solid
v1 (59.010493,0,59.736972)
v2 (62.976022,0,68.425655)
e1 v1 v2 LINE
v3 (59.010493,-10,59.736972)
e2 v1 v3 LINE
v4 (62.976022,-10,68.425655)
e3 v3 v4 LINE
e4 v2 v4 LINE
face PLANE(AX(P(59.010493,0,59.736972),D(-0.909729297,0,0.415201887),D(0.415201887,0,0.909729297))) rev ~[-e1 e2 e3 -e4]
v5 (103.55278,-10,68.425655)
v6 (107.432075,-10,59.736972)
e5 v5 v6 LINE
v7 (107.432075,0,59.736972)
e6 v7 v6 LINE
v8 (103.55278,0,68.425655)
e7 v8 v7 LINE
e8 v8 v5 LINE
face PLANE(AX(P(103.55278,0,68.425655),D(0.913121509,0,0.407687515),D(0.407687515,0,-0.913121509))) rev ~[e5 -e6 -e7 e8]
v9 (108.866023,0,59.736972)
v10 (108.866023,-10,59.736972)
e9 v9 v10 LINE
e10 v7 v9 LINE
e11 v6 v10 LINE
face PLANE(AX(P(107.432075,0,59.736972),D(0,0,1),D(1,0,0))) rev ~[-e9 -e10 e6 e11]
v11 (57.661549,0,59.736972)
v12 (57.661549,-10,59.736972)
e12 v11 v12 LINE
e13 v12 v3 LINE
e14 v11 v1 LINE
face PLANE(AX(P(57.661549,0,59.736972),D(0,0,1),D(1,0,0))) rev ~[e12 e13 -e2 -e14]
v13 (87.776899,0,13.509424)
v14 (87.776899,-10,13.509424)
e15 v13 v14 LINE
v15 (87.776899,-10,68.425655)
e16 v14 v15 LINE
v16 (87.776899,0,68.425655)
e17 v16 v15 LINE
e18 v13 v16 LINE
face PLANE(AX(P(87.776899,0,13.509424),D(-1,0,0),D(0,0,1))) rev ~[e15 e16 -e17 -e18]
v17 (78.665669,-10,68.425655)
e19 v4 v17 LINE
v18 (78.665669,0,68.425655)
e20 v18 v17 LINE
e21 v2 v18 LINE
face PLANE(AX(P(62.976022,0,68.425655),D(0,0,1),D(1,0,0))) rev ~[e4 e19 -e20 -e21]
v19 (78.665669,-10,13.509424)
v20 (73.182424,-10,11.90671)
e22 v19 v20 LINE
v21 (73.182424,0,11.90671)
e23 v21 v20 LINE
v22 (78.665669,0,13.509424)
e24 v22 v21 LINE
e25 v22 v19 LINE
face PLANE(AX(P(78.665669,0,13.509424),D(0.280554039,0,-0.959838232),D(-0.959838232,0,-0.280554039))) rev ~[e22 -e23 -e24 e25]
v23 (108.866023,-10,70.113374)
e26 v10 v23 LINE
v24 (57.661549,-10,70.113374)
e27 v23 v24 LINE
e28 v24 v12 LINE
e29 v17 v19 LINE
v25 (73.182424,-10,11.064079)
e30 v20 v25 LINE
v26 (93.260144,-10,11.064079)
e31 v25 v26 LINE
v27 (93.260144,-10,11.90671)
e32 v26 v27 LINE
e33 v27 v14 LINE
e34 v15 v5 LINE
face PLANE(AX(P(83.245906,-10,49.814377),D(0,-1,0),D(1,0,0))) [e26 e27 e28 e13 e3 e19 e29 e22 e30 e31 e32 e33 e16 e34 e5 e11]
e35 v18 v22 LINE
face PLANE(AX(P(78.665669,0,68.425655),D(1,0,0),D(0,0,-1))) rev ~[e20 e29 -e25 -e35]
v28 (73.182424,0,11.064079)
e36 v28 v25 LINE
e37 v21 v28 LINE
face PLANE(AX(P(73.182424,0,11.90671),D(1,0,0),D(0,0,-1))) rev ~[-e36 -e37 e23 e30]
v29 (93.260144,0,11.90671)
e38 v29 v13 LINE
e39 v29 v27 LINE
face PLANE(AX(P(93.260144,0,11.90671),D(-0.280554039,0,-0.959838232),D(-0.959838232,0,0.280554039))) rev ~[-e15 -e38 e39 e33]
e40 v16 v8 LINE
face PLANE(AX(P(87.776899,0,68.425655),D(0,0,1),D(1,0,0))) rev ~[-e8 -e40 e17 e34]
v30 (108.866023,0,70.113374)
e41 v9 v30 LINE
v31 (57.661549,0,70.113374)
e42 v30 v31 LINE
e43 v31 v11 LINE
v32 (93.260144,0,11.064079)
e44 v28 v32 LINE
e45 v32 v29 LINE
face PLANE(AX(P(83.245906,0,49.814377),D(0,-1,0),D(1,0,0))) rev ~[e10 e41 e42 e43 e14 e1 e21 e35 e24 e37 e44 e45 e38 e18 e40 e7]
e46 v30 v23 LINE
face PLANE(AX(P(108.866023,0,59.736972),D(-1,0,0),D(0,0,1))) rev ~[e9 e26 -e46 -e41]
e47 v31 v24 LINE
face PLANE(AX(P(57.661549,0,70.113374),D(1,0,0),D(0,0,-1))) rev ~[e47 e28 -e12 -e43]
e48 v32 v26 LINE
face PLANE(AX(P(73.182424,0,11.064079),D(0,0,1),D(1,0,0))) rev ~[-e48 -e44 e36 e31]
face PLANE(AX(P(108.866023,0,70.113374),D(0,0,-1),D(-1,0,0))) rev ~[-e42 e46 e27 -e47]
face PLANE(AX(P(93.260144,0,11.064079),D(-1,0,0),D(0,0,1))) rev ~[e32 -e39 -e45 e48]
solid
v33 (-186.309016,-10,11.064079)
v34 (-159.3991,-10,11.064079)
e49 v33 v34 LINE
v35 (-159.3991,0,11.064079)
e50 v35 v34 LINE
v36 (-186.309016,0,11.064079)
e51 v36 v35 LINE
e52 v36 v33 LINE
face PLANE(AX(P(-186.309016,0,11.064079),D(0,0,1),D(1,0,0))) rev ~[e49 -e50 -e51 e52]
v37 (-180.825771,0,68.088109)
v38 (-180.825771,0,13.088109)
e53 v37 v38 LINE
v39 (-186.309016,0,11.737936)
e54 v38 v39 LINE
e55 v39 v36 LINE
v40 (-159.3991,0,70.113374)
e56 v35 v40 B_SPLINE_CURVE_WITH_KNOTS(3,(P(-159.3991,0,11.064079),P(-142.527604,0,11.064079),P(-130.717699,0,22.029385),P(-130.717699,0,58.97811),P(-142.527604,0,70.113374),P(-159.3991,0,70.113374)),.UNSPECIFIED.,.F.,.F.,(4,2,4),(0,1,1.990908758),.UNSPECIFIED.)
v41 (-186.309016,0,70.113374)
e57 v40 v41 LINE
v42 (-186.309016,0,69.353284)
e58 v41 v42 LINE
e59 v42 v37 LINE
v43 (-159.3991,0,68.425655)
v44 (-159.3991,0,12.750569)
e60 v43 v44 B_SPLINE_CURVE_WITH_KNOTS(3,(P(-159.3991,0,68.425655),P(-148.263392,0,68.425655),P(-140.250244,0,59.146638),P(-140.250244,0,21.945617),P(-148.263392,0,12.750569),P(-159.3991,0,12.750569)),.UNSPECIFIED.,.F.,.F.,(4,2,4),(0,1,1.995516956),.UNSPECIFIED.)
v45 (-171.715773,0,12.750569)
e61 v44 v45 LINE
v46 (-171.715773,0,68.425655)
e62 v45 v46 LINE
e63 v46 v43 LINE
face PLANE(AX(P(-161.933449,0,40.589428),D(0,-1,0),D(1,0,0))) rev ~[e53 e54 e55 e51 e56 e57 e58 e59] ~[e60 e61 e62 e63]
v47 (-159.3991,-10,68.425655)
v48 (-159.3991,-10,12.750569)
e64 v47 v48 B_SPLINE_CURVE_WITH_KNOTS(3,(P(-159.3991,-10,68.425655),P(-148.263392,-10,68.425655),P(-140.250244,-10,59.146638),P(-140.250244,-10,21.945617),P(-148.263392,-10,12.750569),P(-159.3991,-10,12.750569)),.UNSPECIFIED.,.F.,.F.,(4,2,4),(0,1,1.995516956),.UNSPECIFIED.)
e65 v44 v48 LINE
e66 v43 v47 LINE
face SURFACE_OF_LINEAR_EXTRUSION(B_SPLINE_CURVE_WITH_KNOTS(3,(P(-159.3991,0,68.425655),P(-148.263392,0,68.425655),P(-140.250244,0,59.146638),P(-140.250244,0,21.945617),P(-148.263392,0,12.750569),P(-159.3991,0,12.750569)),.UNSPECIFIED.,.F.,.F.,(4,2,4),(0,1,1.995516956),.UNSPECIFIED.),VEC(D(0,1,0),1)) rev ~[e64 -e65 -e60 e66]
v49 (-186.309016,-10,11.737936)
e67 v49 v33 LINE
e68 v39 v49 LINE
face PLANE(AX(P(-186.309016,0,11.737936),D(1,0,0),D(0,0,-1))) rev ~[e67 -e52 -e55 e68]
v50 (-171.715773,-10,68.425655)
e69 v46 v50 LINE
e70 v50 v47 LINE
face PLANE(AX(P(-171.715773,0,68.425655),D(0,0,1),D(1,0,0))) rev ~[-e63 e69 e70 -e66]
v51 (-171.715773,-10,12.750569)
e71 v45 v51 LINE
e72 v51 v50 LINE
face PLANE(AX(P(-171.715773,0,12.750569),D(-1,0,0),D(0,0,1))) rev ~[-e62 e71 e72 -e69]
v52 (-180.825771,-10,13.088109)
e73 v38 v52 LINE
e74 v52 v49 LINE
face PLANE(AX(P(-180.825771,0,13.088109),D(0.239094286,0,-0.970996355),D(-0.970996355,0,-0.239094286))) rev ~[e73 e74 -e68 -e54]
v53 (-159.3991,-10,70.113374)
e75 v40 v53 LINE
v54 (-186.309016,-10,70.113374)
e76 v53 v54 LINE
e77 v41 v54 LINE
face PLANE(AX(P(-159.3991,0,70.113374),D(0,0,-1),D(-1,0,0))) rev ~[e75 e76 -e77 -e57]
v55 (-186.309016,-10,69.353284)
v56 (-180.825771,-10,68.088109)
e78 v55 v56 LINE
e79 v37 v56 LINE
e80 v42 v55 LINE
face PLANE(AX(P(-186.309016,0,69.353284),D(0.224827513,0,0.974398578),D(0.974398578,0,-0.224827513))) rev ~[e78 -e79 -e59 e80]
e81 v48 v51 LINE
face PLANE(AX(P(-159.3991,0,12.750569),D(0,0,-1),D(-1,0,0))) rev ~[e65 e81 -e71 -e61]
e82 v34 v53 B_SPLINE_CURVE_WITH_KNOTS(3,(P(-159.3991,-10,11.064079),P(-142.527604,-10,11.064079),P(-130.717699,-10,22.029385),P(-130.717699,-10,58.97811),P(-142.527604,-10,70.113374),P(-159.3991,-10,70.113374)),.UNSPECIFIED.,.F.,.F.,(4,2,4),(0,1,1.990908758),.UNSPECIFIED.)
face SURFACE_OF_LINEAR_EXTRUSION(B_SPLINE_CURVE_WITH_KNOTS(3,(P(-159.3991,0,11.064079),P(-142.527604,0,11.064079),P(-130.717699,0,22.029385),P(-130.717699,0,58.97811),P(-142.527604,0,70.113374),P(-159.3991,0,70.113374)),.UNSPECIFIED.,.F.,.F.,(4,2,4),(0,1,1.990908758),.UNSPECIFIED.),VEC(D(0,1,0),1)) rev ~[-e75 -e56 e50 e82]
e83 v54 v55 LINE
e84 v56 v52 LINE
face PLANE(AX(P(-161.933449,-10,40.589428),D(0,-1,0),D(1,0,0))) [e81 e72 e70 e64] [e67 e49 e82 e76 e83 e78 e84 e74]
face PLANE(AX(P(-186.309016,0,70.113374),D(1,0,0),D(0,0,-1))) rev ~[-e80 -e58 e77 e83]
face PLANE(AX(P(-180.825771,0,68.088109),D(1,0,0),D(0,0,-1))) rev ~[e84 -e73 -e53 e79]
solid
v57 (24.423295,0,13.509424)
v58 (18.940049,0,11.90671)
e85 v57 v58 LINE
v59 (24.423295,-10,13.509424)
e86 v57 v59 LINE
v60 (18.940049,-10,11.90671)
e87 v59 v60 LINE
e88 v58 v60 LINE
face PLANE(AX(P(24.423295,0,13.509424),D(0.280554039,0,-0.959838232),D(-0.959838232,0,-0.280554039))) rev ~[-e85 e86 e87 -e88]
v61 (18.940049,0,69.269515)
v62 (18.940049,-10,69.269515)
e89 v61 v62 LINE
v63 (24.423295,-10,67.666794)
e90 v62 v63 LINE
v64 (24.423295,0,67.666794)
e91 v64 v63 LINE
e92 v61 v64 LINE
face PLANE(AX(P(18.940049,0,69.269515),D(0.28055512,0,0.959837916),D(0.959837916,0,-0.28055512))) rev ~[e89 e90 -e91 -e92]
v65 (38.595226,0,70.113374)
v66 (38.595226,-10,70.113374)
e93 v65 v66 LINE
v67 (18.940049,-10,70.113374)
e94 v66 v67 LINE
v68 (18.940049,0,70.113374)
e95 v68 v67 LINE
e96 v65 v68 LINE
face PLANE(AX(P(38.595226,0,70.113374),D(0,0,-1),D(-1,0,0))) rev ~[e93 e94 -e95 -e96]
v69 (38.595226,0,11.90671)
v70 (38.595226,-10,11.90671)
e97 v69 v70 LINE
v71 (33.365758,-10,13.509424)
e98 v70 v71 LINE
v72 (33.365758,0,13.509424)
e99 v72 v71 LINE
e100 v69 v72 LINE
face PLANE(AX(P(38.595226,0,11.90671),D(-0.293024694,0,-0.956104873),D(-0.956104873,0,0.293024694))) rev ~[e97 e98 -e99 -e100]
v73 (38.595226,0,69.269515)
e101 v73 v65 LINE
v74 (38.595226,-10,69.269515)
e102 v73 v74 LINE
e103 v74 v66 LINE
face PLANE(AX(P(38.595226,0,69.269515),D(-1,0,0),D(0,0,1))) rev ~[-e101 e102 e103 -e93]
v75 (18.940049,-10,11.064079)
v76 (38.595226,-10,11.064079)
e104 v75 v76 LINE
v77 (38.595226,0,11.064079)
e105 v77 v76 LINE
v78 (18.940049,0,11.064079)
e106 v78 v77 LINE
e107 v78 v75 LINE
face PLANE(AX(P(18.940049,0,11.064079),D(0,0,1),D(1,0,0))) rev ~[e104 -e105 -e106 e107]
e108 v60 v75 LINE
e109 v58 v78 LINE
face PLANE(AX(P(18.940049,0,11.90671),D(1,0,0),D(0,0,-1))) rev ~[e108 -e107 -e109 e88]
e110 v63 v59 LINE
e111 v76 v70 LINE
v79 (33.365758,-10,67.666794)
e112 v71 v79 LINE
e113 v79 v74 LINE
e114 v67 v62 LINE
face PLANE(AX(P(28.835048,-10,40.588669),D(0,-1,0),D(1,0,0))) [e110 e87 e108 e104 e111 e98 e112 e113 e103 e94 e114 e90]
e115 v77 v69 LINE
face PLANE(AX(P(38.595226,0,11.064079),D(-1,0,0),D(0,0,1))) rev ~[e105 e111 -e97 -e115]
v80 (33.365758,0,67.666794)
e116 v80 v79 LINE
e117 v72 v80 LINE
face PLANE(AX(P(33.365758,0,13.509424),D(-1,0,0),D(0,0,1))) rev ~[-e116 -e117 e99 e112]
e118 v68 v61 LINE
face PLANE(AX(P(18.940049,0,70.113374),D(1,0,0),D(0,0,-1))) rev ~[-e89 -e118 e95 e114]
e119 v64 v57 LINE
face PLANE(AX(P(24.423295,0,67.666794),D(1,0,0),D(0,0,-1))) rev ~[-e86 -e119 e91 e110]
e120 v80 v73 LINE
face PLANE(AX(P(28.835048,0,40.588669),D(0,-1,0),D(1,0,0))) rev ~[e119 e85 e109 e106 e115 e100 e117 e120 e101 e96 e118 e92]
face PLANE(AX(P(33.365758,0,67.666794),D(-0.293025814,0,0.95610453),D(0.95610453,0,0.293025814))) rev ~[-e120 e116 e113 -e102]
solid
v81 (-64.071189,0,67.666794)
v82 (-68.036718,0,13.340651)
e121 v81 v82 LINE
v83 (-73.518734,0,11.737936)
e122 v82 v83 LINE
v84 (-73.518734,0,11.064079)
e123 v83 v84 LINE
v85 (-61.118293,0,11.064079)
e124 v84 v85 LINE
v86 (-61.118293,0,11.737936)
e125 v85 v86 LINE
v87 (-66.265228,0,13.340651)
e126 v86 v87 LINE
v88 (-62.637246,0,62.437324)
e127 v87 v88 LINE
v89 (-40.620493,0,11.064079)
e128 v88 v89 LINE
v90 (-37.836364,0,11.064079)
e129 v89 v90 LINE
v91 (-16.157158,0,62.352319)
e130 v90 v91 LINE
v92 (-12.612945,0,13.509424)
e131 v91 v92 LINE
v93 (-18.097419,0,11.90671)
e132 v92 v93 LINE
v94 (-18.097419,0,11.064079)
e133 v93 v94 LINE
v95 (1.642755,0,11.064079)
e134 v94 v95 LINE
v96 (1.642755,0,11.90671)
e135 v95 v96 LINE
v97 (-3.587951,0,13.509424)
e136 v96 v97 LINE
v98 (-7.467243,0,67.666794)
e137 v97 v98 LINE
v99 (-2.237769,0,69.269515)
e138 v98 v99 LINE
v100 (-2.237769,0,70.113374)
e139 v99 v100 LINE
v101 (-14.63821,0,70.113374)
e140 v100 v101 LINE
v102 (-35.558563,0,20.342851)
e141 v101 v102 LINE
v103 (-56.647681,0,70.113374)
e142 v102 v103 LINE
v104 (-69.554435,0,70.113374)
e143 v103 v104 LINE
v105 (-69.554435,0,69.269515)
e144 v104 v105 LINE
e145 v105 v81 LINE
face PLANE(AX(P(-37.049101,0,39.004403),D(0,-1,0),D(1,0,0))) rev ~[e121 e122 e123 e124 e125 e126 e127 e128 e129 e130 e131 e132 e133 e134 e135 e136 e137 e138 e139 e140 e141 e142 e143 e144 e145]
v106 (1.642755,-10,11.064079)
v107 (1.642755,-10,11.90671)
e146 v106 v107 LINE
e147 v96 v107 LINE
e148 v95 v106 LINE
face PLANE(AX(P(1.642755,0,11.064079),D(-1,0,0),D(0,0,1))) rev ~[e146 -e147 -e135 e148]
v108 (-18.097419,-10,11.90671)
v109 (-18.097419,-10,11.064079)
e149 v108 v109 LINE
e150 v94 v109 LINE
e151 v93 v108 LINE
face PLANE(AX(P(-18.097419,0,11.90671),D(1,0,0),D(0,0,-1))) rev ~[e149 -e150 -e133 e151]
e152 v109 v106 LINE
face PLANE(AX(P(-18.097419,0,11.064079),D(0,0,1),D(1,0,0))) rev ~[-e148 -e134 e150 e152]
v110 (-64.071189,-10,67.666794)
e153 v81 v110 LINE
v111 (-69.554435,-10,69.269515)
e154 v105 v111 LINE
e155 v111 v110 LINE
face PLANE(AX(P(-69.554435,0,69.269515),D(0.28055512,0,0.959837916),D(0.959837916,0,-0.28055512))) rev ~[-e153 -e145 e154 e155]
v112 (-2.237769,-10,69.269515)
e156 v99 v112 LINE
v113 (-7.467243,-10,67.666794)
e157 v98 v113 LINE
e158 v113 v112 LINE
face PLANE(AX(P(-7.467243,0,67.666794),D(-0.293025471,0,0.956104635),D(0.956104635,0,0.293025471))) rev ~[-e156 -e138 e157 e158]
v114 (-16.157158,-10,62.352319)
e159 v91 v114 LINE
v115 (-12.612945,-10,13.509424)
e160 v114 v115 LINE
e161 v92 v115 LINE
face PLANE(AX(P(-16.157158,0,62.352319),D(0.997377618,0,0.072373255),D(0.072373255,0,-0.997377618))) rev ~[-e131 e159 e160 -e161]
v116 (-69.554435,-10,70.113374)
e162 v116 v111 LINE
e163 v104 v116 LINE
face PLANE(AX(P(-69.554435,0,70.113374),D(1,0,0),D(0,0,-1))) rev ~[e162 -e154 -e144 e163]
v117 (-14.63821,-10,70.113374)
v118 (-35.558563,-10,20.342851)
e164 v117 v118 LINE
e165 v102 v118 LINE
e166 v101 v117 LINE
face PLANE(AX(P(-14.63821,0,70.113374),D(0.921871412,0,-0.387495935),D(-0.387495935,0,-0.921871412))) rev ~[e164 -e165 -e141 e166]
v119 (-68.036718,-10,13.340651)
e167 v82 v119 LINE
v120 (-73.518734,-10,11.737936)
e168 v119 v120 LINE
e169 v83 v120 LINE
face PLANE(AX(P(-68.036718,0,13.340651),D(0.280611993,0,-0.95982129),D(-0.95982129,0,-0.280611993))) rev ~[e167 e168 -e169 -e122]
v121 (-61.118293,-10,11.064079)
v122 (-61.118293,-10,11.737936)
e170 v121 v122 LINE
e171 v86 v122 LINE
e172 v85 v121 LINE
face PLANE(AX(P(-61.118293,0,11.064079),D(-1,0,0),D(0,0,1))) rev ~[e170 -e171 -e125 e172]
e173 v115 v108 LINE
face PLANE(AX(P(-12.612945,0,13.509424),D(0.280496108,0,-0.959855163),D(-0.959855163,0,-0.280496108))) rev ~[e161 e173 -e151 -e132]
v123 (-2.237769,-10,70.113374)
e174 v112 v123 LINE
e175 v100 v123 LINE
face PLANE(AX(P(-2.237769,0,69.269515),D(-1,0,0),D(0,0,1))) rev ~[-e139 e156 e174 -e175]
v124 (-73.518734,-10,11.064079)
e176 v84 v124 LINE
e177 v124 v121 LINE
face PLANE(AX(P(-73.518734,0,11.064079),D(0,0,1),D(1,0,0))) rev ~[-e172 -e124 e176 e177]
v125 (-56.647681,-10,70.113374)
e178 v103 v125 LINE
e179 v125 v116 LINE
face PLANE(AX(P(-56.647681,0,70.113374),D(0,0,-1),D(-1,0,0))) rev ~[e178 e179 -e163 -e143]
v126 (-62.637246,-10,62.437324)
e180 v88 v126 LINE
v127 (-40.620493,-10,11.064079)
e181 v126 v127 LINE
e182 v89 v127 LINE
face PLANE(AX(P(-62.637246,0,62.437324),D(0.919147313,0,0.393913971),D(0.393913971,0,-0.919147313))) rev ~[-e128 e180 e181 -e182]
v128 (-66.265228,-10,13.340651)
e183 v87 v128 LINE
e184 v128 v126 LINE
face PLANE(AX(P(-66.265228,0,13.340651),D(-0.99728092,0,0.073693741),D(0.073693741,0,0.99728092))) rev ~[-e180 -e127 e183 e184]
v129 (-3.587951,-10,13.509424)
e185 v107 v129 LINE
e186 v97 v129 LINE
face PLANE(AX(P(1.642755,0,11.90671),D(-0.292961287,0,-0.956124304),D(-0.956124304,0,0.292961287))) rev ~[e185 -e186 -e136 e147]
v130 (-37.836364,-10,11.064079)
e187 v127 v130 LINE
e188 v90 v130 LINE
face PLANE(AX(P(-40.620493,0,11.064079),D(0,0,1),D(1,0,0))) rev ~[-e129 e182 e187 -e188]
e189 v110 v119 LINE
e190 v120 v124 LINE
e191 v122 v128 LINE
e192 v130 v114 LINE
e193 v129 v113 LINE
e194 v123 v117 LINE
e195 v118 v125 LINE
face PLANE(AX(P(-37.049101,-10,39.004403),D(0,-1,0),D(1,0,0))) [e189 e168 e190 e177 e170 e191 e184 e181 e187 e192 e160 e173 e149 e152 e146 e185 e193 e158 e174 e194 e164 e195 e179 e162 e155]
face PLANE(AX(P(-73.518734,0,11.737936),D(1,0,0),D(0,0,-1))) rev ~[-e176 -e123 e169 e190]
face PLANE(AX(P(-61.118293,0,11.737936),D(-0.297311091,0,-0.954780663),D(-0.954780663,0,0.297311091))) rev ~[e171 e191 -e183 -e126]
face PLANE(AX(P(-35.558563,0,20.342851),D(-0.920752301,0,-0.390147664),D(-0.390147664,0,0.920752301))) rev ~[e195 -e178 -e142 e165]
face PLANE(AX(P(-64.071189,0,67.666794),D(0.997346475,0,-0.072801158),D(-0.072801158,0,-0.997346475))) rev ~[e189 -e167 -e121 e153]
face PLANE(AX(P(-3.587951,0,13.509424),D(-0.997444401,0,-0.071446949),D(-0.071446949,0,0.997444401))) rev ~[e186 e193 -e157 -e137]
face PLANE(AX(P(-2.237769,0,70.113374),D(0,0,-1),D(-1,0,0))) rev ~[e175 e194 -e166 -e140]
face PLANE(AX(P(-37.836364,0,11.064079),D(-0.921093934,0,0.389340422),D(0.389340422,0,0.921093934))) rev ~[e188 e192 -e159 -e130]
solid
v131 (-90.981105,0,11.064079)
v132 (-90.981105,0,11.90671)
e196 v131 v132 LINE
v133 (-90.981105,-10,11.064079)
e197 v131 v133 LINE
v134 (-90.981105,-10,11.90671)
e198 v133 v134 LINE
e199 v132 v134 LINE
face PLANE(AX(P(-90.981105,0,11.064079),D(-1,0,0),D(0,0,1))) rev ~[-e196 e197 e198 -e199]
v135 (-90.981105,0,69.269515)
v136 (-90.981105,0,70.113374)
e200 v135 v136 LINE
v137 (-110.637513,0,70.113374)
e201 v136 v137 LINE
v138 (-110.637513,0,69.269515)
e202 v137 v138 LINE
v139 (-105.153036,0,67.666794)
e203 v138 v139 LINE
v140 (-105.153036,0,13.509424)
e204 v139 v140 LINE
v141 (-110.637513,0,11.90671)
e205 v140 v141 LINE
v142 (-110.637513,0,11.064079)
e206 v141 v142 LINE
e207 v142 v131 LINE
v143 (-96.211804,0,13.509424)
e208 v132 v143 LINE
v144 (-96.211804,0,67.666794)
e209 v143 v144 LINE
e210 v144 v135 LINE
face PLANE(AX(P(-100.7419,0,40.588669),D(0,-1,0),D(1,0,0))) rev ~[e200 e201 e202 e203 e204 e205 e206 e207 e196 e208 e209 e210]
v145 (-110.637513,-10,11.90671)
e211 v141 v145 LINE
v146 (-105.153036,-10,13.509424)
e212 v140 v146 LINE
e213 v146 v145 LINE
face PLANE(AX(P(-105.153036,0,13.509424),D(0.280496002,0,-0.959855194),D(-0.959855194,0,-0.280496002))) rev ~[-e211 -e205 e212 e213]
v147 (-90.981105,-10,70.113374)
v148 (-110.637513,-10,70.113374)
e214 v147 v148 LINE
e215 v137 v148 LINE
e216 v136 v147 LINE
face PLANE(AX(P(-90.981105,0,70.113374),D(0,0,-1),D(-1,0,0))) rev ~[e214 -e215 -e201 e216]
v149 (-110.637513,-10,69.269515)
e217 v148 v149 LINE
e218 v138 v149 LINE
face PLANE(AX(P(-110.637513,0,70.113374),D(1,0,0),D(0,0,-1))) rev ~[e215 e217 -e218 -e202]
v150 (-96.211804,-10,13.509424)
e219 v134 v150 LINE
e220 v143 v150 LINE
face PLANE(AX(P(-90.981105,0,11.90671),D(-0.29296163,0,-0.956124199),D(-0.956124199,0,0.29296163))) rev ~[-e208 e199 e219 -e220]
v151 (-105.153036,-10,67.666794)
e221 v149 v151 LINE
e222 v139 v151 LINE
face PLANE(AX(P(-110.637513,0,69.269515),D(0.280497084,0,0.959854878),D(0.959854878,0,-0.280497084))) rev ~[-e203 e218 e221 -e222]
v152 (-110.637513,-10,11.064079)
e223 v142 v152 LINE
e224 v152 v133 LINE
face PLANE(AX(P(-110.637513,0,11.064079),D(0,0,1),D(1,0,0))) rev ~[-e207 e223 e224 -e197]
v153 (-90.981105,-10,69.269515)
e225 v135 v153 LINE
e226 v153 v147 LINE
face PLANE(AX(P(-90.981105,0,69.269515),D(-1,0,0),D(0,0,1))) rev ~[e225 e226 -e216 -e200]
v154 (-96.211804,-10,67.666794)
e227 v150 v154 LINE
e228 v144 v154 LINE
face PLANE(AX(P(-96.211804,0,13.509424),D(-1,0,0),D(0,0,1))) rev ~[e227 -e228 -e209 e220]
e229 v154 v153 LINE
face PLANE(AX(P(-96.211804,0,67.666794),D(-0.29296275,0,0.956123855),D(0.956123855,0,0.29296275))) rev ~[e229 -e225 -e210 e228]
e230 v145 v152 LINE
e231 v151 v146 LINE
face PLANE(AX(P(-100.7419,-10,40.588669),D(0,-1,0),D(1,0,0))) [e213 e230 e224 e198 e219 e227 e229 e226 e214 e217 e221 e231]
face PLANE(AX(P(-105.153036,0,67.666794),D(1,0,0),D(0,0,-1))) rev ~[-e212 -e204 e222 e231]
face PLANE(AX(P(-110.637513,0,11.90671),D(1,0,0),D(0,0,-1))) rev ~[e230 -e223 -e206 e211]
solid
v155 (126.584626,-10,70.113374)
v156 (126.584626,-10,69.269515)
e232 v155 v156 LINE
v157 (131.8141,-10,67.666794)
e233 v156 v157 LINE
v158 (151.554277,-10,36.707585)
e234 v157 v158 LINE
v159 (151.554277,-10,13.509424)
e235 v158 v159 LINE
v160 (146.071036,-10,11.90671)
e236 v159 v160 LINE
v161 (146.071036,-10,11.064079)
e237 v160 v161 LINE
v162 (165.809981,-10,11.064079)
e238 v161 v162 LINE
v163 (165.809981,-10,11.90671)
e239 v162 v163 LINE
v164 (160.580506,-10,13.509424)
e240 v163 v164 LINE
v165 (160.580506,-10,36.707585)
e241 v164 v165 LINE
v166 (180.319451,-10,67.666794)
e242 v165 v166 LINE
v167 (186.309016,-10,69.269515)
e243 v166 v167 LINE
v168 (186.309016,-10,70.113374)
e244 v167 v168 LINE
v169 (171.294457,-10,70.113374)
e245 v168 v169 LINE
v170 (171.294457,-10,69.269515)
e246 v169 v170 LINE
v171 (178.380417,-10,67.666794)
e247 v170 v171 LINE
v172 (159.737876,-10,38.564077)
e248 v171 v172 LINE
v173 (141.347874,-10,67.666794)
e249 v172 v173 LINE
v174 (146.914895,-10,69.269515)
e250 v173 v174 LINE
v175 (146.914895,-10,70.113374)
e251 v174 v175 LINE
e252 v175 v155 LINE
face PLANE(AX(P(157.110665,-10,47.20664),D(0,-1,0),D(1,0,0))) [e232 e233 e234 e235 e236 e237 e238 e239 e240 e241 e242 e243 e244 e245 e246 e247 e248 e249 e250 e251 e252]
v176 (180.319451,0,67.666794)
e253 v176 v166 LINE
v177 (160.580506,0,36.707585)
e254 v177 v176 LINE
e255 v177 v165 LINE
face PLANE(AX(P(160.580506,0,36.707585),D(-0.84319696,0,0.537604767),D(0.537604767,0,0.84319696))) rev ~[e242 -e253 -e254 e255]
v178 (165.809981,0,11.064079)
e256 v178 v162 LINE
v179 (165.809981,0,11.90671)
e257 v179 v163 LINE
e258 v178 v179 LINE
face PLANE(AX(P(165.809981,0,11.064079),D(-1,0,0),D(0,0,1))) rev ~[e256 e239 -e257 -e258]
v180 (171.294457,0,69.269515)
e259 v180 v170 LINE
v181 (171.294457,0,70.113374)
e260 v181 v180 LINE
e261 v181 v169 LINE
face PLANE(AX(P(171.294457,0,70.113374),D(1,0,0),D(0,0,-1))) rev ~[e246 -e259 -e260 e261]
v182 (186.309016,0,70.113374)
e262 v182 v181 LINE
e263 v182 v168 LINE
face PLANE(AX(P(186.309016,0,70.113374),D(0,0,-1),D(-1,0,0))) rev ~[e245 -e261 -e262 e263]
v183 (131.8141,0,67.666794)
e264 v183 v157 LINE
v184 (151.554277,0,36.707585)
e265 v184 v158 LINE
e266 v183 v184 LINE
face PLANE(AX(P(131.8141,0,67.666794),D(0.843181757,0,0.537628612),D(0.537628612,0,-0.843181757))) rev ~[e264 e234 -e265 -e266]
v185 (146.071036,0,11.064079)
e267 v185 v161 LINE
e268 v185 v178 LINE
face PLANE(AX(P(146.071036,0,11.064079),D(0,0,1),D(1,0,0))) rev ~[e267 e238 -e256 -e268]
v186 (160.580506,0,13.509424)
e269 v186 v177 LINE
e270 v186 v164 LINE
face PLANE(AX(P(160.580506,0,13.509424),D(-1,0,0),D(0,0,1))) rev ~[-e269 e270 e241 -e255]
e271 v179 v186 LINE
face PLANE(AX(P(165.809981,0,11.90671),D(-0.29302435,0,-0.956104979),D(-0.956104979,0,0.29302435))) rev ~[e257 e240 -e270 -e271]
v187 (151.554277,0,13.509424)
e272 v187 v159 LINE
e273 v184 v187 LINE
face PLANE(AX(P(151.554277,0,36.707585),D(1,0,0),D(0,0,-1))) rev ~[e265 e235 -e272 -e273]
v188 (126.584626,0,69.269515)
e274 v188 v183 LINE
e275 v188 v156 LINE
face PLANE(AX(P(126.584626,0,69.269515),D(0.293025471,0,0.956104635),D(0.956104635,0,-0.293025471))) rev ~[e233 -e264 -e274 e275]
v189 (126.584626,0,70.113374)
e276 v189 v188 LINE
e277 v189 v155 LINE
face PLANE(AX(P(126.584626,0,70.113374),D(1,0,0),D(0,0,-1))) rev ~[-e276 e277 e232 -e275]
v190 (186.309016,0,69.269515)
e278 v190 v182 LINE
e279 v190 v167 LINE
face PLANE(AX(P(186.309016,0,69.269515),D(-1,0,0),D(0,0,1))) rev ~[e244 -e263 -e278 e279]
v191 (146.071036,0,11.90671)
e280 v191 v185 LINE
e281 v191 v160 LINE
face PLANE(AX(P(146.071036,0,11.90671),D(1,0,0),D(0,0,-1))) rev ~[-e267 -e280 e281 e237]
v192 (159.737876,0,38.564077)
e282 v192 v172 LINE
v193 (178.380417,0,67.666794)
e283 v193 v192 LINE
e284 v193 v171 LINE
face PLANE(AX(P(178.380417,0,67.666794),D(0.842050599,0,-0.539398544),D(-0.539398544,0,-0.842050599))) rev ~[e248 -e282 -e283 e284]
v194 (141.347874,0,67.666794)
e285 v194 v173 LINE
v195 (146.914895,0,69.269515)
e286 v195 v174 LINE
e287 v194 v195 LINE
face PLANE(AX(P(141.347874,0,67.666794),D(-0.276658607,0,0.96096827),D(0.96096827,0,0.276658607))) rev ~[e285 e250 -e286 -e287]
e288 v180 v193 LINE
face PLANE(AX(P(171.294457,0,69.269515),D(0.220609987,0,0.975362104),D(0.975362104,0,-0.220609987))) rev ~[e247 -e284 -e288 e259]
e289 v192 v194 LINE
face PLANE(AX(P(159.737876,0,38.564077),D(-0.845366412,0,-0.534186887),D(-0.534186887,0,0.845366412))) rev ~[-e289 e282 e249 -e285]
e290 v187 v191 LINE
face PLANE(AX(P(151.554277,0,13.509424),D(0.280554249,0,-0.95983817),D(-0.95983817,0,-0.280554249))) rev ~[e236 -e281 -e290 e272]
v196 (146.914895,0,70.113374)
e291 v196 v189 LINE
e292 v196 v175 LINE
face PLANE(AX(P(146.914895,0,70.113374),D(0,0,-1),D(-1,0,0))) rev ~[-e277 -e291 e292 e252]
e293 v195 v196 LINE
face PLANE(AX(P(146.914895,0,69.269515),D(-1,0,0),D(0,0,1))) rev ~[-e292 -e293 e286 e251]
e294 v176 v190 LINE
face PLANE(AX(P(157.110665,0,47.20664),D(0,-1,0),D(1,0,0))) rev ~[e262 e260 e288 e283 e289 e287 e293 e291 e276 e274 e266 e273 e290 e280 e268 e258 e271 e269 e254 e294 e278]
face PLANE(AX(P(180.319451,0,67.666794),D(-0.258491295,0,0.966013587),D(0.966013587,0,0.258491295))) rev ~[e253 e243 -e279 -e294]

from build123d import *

# Parameters (mm, degrees)
F1_DEPTH = 10


with BuildPart() as f1:
    # F0 (on Front) → F1 (new body)
    with BuildSketch(Plane.XZ):
        with BuildLine():
            Line((-159.3991003414, 70.1133744277), (-186.3090163992, 70.1133744277))
            Line((-186.3090163992, 70.1133744277), (-186.3090163992, 69.353283572))
            Line((-186.3090163992, 69.353283572), (-180.8257710277, 68.0881088784))
            Line((-180.8257710277, 68.0881088784), (-180.8257710277, 13.0881088784))
            Line((-180.8257710277, 13.0881088784), (-186.3090163992, 11.7379363154))
            Line((-186.3090163992, 11.7379363154), (-186.3090163992, 11.0640792311))
            Line((-186.3090163992, 11.0640792311), (-159.3991003414, 11.0640792311))
            add(Edge.make_bspline(
                [(-159.3991003414, 11.0640792311), (-142.5276043154, 11.0640792311), (-130.71769879, 22.0293854751), (-130.71769879, 40.5881088784)],
                knots=[0, 0, 0, 0, 1, 1, 1, 1], degree=3))
            add(Edge.make_bspline(
                [(-130.71769879, 40.5881088784), (-130.71769879, 58.978110438), (-142.5276043154, 70.1133744277), (-159.3991003414, 70.1133744277)],
                knots=[0, 0, 0, 0, 1, 1, 1, 1], degree=3))
        make_face()
        with BuildLine():
            Line((-171.7157725872, 12.75056909), (-171.7157725872, 68.4256553716))
            Line((-171.7157725872, 68.4256553716), (-159.3991003414, 68.4256553716))
            add(Edge.make_bspline(
                [(-159.3991003414, 68.4256553716), (-148.2633916058, 68.4256553716), (-140.250243828, 59.1466378451), (-140.250243828, 40.5043402061)],
                knots=[0, 0, 0, 0, 1, 1, 1, 1], degree=3))
            add(Edge.make_bspline(
                [(-140.250243828, 40.5043402061), (-140.250243828, 21.9456168028), (-148.2633916058, 12.75056909), (-159.3991003414, 12.75056909)],
                knots=[0, 0, 0, 0, 1, 1, 1, 1], degree=3))
            Line((-159.3991003414, 12.75056909), (-171.7157725872, 12.75056909))
        make_face(mode=Mode.SUBTRACT)
    extrude(amount=F1_DEPTH)


with BuildPart() as f1b:
    # F0 (on Front) → F1, piece 2 (new body)
    with BuildSketch(Plane.XZ):
        Polygon((-90.98110539, 70.1133744277), (-110.6375130752, 70.1133744277), (-110.6375130752, 69.2695148996), (-105.1530362715, 67.666793713), (-105.1530362715, 13.5094240439), (-110.6375130752, 11.906709562), (-110.6375130752, 11.0640792311), (-90.98110539, 11.0640792311), (-90.98110539, 11.906709562), (-96.2118043729, 13.5094240439), (-96.2118043729, 67.666793713), (-90.98110539, 69.2695148996), align=None)
    extrude(amount=F1_DEPTH)


with BuildPart() as f1c:
    # F0 (on Front) → F1, piece 3 (new body)
    with BuildSketch(Plane.XZ):
        Polygon((-56.6476807507, 70.1133744277), (-69.5544347038, 70.1133744277), (-69.5544347038, 69.2695148996), (-64.0711893322, 67.666793713), (-68.0367180914, 13.3406507973), (-73.5187342658, 11.7379363154), (-73.5187342658, 11.0640792311), (-61.1182933476, 11.0640792311), (-61.1182933476, 11.7379363154), (-66.265228128, 13.3406507973), (-62.637245862, 62.4373239273), (-40.6204934684, 11.0640792311), (-37.8363640257, 11.0640792311), (-16.1571581253, 62.3523193531), (-12.6129445316, 13.5094240439), (-18.0974191003, 11.906709562), (-18.0974191003, 11.0640792311), (1.6427550223, 11.0640792311), (1.6427550223, 11.906709562), (-3.5879506653, 13.5094240439), (-7.4672434182, 67.666793713), (-2.2377691627, 69.2695148996), (-2.2377691627, 70.1133744277), (-14.6382100808, 70.1133744277), (-35.5585632623, 20.3428509181), align=None)
    extrude(amount=F1_DEPTH)


with BuildPart() as f1d:
    # F0 (on Front) → F1, piece 4 (new body)
    with BuildSketch(Plane.XZ):
        Polygon((38.5952256843, 70.1133744277), (18.9400494312, 70.1133744277), (18.9400494312, 69.2695148996), (24.4232948028, 67.666793713), (24.4232948028, 13.5094240439), (18.9400494312, 11.906709562), (18.9400494312, 11.0640792311), (38.5952256843, 11.0640792311), (38.5952256843, 11.906709562), (33.3657581335, 13.5094240439), (33.3657581335, 67.666793713), (38.5952256843, 69.2695148996), align=None)
    extrude(amount=F1_DEPTH)


with BuildPart() as f1e:
    # F0 (on Front) → F1, piece 5 (new body)
    with BuildSketch(Plane.XZ):
        Polygon((108.8660231118, 70.1133744277), (57.6615494273, 70.1133744277), (57.6615494273, 59.7369720966), (59.0104927931, 59.7369720966), (62.9760215523, 68.4256553716), (78.6656690461, 68.4256553716), (78.6656690461, 13.5094240439), (73.1824236746, 11.906709562), (73.1824236746, 11.0640792311), (93.2601442903, 11.0640792311), (93.2601442903, 11.906709562), (87.7768989187, 13.5094240439), (87.7768989187, 68.4256553716), (103.552780184, 68.4256553716), (107.4320751718, 59.7369720966), (108.8660231118, 59.7369720966), align=None)
    extrude(amount=F1_DEPTH)


with BuildPart() as f1f:
    # F0 (on Front) → F1, piece 6 (new body)
    with BuildSketch(Plane.XZ):
        Polygon((146.9148952208, 70.1133744277), (126.5846259815, 70.1133744277), (126.5846259815, 69.2695148996), (131.814100237, 67.666793713), (151.5542765945, 36.7075846935), (151.5542765945, 13.5094240439), (146.0710356927, 11.906709562), (146.0710356927, 11.0640792311), (165.8099806181, 11.0640792311), (165.8099806181, 11.906709562), (160.5805063626, 13.5094240439), (160.5805063626, 36.7075846935), (180.319451288, 67.666793713), (186.3090163992, 69.2695148996), (186.3090163992, 70.1133744277), (171.2944574218, 70.1133744277), (171.2944574218, 69.2695148996), (178.3804172753, 67.666793713), (159.7378760317, 38.5640769962), (141.3478744722, 67.666793713), (146.9148952208, 69.2695148996), align=None)
    extrude(amount=F1_DEPTH)


solid = Compound([f1.part, f1b.part, f1c.part, f1d.part, f1e.part, f1f.part])
